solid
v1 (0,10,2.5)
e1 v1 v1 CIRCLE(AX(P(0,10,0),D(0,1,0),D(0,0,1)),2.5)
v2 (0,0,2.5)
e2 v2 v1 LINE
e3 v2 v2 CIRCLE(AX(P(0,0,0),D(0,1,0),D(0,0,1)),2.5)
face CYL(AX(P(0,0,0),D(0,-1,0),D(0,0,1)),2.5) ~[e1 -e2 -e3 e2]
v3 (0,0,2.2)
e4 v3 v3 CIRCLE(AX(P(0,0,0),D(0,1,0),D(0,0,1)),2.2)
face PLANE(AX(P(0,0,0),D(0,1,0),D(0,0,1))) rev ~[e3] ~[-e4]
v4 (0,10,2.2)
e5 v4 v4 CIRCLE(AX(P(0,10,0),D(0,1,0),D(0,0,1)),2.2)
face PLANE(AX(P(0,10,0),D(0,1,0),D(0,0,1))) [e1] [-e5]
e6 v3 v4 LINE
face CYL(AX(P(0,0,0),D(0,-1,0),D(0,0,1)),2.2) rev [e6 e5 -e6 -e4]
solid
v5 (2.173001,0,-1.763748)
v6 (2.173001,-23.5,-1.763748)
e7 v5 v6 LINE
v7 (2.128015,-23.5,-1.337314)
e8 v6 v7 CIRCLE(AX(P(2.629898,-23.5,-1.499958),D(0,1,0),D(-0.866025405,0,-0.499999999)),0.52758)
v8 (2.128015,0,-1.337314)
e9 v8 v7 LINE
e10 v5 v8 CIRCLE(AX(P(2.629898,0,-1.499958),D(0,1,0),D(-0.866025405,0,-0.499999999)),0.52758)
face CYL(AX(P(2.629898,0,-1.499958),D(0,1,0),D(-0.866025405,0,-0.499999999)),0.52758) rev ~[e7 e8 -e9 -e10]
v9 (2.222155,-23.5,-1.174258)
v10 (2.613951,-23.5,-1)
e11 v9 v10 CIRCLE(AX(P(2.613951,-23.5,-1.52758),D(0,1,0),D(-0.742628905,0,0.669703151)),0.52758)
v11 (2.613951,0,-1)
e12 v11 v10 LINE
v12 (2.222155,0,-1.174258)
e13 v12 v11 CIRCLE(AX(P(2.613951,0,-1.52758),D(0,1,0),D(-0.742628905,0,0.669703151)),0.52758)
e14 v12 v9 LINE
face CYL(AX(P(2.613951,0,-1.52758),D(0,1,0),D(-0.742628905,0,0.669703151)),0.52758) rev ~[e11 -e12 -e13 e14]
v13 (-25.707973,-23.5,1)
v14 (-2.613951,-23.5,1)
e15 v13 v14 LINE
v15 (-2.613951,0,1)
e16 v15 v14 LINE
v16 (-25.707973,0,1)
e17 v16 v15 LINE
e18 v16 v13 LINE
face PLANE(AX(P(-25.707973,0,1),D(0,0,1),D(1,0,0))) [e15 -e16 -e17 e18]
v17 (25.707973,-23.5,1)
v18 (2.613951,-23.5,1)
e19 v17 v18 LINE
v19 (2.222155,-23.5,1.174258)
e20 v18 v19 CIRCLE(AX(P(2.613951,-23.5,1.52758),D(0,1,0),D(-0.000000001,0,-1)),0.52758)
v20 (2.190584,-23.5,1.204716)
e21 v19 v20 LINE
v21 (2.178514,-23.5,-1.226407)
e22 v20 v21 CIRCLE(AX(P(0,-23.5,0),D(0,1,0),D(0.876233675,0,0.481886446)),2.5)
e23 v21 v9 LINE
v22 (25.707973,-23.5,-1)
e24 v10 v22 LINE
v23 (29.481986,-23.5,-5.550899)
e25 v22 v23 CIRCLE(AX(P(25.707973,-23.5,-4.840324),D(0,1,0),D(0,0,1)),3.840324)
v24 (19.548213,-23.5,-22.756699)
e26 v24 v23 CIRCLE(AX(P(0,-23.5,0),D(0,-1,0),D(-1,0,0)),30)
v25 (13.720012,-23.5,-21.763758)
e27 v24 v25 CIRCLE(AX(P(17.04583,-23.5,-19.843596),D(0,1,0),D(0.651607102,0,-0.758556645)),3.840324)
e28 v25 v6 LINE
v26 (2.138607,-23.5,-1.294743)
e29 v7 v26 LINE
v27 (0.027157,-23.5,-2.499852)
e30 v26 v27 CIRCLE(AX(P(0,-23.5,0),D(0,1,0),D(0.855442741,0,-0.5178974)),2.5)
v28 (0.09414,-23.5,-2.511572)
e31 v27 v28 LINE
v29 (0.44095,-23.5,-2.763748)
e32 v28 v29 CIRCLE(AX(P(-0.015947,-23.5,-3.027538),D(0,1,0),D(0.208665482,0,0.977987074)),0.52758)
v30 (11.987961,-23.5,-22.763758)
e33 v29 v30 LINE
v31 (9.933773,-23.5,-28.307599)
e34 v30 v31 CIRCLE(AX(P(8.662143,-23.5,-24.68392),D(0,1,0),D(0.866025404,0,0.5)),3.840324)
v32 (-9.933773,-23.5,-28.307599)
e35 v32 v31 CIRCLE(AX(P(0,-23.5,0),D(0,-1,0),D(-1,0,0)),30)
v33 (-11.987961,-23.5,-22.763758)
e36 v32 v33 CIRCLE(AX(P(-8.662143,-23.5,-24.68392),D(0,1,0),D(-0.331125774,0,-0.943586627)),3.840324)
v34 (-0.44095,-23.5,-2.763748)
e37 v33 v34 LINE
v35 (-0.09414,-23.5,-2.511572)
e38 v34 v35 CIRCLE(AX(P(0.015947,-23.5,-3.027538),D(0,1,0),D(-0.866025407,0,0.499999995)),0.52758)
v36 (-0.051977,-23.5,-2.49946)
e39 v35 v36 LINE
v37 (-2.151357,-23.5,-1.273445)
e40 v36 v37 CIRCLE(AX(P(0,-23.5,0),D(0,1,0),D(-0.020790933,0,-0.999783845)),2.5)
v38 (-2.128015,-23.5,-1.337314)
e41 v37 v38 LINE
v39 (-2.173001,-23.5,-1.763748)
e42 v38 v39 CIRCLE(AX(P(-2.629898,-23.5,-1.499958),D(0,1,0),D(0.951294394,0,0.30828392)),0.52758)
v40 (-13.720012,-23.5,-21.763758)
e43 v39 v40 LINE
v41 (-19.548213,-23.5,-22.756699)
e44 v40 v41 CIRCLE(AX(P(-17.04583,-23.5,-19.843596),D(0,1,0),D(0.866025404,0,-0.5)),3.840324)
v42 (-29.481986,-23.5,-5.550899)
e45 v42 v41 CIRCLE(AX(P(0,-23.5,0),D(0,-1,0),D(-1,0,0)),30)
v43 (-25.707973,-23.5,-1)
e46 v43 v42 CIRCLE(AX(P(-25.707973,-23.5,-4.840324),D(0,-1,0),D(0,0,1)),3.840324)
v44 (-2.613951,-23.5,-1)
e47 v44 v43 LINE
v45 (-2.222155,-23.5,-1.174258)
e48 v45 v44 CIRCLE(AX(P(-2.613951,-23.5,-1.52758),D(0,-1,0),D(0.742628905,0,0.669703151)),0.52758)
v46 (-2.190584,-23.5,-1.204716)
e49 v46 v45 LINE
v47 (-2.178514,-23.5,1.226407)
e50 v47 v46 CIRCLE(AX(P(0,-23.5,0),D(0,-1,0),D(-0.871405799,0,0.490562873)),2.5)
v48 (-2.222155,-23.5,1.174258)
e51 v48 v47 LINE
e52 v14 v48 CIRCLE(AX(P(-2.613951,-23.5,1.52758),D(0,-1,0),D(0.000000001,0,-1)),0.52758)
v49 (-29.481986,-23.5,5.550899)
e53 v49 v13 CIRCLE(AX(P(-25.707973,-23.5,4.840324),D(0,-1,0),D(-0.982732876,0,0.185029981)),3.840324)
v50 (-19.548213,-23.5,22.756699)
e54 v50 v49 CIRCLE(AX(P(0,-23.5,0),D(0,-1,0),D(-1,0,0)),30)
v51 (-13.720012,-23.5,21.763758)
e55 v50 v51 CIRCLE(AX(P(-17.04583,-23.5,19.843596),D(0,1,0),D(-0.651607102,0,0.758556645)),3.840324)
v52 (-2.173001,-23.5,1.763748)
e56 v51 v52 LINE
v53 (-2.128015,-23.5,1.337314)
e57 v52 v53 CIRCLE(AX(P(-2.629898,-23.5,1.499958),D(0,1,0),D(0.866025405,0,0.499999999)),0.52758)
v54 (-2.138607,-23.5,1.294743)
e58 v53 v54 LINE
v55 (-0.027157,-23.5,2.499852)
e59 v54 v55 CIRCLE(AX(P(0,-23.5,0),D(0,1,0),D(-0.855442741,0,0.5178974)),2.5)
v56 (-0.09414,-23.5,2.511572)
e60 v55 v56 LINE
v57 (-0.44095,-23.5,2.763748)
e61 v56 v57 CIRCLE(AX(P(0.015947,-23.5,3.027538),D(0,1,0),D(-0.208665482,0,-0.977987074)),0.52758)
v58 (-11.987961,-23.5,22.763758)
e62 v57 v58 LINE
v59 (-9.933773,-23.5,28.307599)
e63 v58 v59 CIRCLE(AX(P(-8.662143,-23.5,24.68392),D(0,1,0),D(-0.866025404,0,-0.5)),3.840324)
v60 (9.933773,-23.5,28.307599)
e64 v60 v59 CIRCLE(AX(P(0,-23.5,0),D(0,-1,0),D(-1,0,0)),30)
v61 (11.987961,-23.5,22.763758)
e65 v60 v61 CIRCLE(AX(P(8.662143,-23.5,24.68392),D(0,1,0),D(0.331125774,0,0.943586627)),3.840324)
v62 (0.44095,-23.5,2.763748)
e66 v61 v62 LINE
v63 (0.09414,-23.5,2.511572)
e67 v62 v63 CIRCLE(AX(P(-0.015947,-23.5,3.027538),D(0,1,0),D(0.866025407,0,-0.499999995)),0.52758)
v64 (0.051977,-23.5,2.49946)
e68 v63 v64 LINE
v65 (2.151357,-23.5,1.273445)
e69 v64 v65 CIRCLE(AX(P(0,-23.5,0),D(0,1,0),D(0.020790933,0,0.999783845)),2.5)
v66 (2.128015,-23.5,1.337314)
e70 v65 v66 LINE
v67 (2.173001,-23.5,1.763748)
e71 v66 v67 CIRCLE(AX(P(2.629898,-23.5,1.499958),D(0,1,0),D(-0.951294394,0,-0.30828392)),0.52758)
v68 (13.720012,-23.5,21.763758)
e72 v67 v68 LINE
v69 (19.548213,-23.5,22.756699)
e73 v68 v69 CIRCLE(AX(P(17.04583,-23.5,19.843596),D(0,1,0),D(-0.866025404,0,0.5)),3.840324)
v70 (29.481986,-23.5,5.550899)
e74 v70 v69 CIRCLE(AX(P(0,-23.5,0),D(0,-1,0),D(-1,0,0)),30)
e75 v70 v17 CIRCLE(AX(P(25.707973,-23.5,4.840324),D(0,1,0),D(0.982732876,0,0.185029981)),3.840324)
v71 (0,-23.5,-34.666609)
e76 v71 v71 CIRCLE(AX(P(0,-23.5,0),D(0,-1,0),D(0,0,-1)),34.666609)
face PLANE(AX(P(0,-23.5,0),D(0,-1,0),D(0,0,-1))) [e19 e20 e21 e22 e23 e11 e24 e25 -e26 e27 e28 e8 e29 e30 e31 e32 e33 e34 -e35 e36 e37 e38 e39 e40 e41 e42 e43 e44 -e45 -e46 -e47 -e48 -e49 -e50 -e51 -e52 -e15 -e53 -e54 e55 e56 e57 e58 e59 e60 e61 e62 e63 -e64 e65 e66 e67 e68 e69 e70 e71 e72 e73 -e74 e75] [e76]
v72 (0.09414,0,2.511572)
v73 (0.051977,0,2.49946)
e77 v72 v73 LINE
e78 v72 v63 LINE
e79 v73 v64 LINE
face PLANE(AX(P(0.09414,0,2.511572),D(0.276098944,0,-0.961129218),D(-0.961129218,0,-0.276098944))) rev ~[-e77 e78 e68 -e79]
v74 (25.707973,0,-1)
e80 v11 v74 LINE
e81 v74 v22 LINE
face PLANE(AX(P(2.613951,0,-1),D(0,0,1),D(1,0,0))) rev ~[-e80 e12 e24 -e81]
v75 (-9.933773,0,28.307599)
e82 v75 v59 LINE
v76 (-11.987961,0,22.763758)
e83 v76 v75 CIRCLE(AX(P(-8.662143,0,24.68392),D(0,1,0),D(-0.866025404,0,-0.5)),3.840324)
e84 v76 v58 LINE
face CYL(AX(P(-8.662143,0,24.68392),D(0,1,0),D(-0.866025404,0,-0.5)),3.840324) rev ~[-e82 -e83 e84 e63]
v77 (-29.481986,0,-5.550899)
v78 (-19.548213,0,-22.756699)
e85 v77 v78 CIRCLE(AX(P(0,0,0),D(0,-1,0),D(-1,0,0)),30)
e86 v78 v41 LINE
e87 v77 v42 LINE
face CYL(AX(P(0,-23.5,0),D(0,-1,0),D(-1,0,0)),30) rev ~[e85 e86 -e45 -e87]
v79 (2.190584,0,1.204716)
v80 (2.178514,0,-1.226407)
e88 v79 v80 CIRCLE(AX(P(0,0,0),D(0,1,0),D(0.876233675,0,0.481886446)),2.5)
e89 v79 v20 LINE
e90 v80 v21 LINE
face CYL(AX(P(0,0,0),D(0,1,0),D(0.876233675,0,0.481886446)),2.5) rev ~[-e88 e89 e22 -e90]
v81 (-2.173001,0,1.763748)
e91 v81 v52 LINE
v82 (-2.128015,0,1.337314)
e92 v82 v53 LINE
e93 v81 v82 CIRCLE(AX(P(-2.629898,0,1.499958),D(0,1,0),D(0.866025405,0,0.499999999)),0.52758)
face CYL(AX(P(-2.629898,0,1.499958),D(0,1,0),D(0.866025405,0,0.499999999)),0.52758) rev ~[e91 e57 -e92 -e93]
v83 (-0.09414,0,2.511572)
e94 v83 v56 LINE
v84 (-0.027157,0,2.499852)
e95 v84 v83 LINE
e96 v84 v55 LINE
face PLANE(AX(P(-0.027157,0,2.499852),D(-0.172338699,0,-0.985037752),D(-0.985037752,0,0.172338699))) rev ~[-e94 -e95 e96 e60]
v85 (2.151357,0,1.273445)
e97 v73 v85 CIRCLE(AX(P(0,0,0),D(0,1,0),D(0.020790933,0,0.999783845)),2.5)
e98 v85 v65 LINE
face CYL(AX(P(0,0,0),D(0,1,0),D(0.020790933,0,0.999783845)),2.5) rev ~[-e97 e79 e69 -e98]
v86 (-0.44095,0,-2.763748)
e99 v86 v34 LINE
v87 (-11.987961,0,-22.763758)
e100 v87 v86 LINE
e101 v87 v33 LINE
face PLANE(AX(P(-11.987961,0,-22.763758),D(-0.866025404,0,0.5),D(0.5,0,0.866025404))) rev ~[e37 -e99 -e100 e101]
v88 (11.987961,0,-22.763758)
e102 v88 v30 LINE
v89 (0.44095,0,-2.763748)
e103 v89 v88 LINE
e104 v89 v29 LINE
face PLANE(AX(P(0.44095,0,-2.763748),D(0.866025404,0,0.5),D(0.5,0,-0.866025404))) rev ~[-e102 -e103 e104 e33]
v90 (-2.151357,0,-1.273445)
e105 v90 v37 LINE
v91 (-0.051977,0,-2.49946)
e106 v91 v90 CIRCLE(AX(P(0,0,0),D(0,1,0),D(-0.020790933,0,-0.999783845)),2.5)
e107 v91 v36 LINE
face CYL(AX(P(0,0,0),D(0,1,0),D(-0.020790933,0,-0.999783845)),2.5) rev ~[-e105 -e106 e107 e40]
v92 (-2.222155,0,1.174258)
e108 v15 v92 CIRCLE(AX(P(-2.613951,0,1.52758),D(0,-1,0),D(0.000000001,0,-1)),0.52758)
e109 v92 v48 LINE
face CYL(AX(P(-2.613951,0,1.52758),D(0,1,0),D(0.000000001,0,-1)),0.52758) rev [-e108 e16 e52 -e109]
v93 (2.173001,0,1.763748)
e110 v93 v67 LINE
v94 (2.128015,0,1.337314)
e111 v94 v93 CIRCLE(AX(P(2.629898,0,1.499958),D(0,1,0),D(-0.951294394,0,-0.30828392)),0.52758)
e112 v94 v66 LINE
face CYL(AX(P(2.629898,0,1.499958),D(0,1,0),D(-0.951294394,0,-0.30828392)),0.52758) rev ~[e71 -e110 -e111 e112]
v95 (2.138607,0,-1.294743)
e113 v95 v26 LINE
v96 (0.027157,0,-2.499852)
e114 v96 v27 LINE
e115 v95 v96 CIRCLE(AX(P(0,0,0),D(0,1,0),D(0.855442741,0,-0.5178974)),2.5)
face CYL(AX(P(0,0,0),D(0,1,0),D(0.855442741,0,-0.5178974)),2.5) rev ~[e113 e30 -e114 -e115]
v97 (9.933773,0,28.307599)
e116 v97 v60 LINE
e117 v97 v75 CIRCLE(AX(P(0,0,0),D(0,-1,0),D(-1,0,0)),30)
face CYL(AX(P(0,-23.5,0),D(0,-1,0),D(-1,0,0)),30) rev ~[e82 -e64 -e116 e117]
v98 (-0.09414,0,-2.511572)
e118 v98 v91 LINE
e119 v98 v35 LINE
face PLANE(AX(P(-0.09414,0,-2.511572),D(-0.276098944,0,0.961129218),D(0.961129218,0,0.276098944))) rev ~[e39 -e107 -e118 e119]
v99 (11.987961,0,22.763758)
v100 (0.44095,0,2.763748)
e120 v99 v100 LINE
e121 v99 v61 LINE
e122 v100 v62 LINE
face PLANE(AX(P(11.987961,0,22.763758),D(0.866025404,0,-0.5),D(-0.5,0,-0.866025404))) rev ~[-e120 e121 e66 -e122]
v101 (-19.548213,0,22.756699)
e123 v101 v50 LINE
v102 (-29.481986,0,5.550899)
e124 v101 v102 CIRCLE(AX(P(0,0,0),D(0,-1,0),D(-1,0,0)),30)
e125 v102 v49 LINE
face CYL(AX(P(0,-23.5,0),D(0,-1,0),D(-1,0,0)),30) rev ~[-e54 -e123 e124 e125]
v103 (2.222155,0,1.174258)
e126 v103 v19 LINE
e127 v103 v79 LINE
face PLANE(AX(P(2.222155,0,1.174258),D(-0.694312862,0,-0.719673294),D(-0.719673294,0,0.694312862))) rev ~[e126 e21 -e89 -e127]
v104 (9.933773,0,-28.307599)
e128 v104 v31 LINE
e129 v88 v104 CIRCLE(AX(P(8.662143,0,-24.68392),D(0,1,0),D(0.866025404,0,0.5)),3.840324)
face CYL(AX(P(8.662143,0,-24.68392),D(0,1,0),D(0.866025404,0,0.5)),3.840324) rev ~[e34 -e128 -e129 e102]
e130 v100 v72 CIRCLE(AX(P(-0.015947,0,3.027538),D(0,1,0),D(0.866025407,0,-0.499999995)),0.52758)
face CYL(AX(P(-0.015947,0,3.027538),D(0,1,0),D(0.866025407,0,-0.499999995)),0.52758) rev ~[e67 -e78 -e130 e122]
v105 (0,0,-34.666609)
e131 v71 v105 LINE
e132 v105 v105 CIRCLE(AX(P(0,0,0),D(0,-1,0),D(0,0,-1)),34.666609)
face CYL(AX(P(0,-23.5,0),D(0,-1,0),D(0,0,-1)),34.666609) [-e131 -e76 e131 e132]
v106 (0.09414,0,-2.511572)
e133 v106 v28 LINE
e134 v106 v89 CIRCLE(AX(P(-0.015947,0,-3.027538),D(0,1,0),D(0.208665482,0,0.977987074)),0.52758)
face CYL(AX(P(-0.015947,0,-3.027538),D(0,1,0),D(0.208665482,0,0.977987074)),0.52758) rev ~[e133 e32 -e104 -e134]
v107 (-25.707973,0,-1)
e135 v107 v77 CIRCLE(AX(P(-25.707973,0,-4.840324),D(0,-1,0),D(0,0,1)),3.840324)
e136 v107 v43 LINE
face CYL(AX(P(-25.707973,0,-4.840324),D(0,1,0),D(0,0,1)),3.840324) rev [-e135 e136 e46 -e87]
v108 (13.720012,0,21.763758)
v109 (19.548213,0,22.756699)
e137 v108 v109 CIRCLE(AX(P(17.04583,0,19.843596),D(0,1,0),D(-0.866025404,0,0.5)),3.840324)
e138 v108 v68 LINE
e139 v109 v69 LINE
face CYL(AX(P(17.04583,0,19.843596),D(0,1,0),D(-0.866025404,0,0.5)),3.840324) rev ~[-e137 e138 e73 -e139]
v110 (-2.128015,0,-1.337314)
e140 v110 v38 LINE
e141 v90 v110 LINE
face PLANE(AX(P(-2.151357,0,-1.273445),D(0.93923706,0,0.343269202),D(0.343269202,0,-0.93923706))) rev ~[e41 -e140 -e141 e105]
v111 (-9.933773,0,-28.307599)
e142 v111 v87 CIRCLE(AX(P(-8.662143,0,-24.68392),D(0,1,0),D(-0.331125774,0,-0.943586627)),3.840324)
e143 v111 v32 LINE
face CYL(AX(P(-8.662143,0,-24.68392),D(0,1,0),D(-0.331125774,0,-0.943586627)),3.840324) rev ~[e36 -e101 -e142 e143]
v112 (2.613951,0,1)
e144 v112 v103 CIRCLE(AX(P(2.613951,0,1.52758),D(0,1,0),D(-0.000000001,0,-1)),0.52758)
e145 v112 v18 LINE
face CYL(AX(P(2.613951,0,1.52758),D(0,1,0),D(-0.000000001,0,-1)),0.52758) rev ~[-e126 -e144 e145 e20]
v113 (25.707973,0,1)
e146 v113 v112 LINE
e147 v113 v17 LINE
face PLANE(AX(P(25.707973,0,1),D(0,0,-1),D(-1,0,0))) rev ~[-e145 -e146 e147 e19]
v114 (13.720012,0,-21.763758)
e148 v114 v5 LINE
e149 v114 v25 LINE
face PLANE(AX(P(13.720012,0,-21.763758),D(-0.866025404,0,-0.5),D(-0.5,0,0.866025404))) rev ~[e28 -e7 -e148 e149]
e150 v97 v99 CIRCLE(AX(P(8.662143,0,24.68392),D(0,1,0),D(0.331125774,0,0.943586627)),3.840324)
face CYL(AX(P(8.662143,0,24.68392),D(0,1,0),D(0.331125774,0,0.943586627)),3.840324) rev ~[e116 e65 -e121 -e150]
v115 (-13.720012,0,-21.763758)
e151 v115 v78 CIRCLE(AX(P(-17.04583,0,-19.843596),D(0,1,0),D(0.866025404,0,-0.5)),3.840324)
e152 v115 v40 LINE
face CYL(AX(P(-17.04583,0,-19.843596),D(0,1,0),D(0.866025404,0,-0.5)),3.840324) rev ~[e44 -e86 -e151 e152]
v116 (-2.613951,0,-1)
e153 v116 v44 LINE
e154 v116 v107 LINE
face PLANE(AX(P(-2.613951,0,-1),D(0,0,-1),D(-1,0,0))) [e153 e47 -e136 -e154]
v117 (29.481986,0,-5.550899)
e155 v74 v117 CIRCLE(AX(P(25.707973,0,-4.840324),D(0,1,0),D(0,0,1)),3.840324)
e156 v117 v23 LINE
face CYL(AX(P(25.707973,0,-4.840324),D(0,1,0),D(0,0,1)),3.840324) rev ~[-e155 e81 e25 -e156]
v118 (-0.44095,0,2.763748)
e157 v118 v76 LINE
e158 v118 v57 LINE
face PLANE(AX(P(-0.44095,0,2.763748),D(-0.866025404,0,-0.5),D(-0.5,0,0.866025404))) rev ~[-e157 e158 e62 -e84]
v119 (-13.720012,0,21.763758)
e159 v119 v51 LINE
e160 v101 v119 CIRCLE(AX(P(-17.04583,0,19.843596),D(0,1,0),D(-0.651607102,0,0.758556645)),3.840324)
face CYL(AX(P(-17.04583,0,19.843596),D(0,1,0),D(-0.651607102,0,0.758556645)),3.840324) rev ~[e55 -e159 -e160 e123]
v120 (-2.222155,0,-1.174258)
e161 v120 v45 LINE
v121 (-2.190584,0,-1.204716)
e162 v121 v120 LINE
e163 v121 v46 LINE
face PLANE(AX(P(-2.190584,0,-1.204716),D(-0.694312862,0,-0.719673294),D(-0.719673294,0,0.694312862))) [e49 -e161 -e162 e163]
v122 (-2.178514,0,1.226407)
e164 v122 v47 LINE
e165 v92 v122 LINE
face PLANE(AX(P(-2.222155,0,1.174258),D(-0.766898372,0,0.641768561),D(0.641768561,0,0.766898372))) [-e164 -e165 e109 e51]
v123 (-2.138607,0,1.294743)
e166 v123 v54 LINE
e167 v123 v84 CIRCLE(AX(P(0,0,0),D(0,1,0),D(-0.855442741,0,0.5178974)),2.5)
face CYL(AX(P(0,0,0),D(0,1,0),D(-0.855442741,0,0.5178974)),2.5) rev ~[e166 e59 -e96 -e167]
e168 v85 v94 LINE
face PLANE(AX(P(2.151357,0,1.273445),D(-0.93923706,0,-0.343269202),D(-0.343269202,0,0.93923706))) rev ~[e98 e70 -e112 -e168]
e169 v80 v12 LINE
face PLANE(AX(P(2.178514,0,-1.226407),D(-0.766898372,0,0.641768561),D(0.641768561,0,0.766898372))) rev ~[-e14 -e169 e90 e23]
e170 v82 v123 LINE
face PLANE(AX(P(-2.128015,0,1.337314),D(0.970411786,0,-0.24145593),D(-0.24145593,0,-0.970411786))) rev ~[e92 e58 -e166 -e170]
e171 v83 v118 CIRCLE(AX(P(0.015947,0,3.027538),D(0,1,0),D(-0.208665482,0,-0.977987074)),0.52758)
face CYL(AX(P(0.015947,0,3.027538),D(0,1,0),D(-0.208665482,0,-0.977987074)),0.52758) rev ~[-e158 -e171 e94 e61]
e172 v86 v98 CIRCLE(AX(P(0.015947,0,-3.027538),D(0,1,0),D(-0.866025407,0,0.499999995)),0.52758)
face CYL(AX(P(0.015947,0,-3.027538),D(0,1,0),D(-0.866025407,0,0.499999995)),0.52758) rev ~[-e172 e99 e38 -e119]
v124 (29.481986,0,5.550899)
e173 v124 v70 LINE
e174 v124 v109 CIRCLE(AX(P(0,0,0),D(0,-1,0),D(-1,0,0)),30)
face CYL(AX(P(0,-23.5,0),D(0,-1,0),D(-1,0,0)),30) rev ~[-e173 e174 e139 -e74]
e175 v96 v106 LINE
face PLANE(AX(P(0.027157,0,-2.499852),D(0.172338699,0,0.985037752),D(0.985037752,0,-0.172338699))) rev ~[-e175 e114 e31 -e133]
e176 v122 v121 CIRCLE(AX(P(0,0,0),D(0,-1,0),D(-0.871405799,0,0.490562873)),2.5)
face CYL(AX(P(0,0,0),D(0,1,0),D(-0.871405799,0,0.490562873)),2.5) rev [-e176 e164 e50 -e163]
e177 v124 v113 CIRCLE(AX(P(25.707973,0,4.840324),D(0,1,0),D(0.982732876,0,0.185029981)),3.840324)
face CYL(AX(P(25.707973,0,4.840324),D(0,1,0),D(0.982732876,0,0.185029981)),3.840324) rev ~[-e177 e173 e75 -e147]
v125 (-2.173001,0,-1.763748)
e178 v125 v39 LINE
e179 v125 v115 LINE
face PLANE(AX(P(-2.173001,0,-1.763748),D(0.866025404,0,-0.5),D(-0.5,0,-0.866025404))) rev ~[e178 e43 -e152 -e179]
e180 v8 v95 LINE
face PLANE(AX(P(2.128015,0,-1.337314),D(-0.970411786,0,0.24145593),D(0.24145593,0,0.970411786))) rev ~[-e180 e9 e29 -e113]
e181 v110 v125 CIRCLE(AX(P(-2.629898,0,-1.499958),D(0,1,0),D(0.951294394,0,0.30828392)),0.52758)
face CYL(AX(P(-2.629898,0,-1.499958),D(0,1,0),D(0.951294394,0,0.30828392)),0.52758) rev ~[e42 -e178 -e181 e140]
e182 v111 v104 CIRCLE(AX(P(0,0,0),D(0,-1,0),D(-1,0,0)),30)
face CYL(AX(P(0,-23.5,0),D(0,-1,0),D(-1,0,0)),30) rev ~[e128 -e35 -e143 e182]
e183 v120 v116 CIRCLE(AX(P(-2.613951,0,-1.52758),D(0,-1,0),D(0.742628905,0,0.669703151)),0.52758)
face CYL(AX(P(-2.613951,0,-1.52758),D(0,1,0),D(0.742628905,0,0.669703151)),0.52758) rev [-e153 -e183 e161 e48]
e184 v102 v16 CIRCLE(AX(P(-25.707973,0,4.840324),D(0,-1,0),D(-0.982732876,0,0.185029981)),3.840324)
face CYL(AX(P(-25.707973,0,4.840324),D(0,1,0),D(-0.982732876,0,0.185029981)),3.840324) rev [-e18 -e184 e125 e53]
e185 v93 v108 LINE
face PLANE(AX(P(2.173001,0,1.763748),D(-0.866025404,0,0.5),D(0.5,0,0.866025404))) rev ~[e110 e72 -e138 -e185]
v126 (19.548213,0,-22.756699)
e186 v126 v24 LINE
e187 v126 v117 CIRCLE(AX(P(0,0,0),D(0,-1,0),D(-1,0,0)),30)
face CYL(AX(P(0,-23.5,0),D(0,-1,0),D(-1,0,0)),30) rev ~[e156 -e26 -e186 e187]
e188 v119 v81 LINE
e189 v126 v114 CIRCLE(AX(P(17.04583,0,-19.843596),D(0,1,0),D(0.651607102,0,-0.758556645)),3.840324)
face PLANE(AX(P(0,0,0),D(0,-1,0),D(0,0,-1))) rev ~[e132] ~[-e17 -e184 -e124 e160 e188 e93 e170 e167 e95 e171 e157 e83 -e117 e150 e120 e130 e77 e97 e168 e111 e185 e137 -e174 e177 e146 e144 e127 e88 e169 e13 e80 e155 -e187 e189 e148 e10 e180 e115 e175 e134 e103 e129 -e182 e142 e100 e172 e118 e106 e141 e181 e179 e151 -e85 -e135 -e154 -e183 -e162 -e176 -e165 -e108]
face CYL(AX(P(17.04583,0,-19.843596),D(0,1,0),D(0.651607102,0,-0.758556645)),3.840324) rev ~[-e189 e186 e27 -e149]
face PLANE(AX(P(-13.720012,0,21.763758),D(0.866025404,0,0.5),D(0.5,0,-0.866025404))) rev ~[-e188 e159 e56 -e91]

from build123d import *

# Parameters (mm, degrees)
SKETCH1_R             = 2.5
SKETCH1_R_2           = 2.2
BOSS_EXTRUDE1_DEPTH   = 10
BOSS_EXTRUDE3_DEPTH   = 23.5
BOSS_EXTRUDE3_2_DEPTH = 23.5
BOSS_EXTRUDE3_3_DEPTH = 23.5
BOSS_EXTRUDE3_4_DEPTH = 23.5
BOSS_EXTRUDE3_5_DEPTH = 23.5
BOSS_EXTRUDE3_6_DEPTH = 23.5
SKETCH5_R             = 34.666608733
SKETCH5_R_2           = 30
BOSS_EXTRUDE4_DEPTH   = 23.5
SKETCH6_R             = 1.5
BOSS_EXTRUDE5_DEPTH   = 10
SKETCH8_R             = 1.5
CUT_EXTRUDE2_DEPTH    = 10


with BuildPart() as part:
    # Sketch1 → Boss-Extrude1 (new body)
    with BuildSketch(Plane(origin=(0, 0, 0), x_dir=(1, 0, 0), z_dir=(0, 1, 0))):
        with Locations(Location((0, 0, 0), (0, 0, 270))):
            Circle(SKETCH1_R)
        with Locations(Location((0, 0, 0), (0, 0, 270))):
            Circle(SKETCH1_R_2, mode=Mode.SUBTRACT)
    extrude(amount=BOSS_EXTRUDE1_DEPTH)


with BuildPart() as body_2:
    # Sketch2 → Boss-Extrude3 (new body)
    with BuildSketch(Plane(origin=(0, 0, 0), x_dir=(-1, 0, 0), z_dir=(0, -1, 0))):
        with BuildLine():
            Line((2.61395079, 1), (25.707973339, 1))
            ThreePointArc((25.707973339, 1), (28.664062792, 2.388870469), (29.481986287, 5.550899437))
            ThreePointArc((29.481986287, 5.550899437), (30, 0), (29.481986287, -5.550899437))
            ThreePointArc((29.481986287, -5.550899437), (28.664062792, -2.388870469), (25.707973339, -1))
            Line((25.707973339, -1), (2.61395079, -1))
            ThreePointArc((2.61395079, -1), (2.399550586, -1.045528996), (2.222154945, -1.174257873))
            Line((2.222154945, -1.174257873), (2.178514499, -1.226407182))
            ThreePointArc((2.178514499, -1.226407182), (2.499969191, -0.012411485), (2.190584188, 1.204716114))
            Line((2.190584188, 1.204716114), (2.222154945, 1.174257873))
            ThreePointArc((2.222154945, 1.174257873), (2.399550586, 1.045528996), (2.61395079, 1))
        make_face()
    extrude(amount=BOSS_EXTRUDE3_DEPTH)



with BuildPart() as body_3:
    # Sketch2 → Boss-Extrude3 2 (new body)
    with BuildSketch(Plane(origin=(0, 0, 0), x_dir=(-1, 0, 0), z_dir=(0, -1, 0))):
        with BuildLine():
            Line((0.440949991, -2.763747789), (11.987961266, -22.763757991))
            ThreePointArc((11.987961266, -22.763757991), (12.263208883, -26.018241788), (9.933773217, -28.307598797))
            ThreePointArc((9.933773217, -28.307598797), (15, -25.980762114), (19.54821307, -22.75669936))
            ThreePointArc((19.54821307, -22.75669936), (16.400853909, -23.629371319), (13.720012073, -21.763757991))
            Line((13.720012073, -21.763757991), (2.173000799, -1.763747789))
            ThreePointArc((2.173000799, -1.763747789), (2.105229964, -1.555307267), (2.128014621, -1.337313697))
            Line((2.128014621, -1.337313697), (2.138606853, -1.294743499))
            ThreePointArc((2.138606853, -1.294743499), (1.239235934, -2.17124257), (0.027157474, -2.49985249))
            Line((0.027157474, -2.49985249), (0.094140324, -2.511571571))
            ThreePointArc((0.094140324, -2.511571571), (0.294320622, -2.600836263), (0.440949991, -2.763747789))
        make_face()
    extrude(amount=BOSS_EXTRUDE3_2_DEPTH)


with BuildPart() as body_4:
    # Sketch2 → Boss-Extrude3 3 (new body)
    with BuildSketch(Plane(origin=(0, 0, 0), x_dir=(-1, 0, 0), z_dir=(0, -1, 0))):
        with BuildLine():
            Line((-2.173000799, -1.763747789), (-13.720012073, -21.763757991))
            ThreePointArc((-13.720012073, -21.763757991), (-16.400853909, -23.629371319), (-19.54821307, -22.75669936))
            ThreePointArc((-19.54821307, -22.75669936), (-15, -25.980762114), (-9.933773217, -28.307598797))
            ThreePointArc((-9.933773217, -28.307598797), (-12.263208883, -26.018241788), (-11.987961266, -22.763757991))
            Line((-11.987961266, -22.763757991), (-0.440949991, -2.763747789))
            ThreePointArc((-0.440949991, -2.763747789), (-0.294320622, -2.600836263), (-0.094140324, -2.511571571))
            Line((-0.094140324, -2.511571571), (-0.051977335, -2.499459613))
            ThreePointArc((-0.051977335, -2.499459613), (-1.260733257, -2.158831086), (-2.151357025, -1.273445308))
            Line((-2.151357025, -1.273445308), (-2.128014621, -1.337313697))
            ThreePointArc((-2.128014621, -1.337313697), (-2.105229964, -1.555307267), (-2.173000799, -1.763747789))
        make_face()
    extrude(amount=BOSS_EXTRUDE3_3_DEPTH)


with BuildPart() as body_5:
    # Sketch2 → Boss-Extrude3 4 (new body)
    with BuildSketch(Plane(origin=(0, 0, 0), x_dir=(-1, 0, 0), z_dir=(0, -1, 0))):
        with BuildLine():
            Line((-2.61395079, 1), (-25.707973339, 1))
            ThreePointArc((-25.707973339, 1), (-28.664062792, 2.388870469), (-29.481986287, 5.550899437))
            ThreePointArc((-29.481986287, 5.550899437), (-30, 0), (-29.481986287, -5.550899437))
            ThreePointArc((-29.481986287, -5.550899437), (-28.664062792, -2.388870469), (-25.707973339, -1))
            Line((-25.707973339, -1), (-2.61395079, -1))
            ThreePointArc((-2.61395079, -1), (-2.399550586, -1.045528996), (-2.222154945, -1.174257873))
            Line((-2.222154945, -1.174257873), (-2.190584188, -1.204716114))
            ThreePointArc((-2.190584188, -1.204716114), (-2.499969191, 0.012411485), (-2.178514499, 1.226407182))
            Line((-2.178514499, 1.226407182), (-2.222154945, 1.174257873))
            ThreePointArc((-2.222154945, 1.174257873), (-2.399550586, 1.045528996), (-2.61395079, 1))
        make_face()
    extrude(amount=BOSS_EXTRUDE3_4_DEPTH)


with BuildPart() as body_6:
    # Sketch2 → Boss-Extrude3 5 (new body)
    with BuildSketch(Plane(origin=(0, 0, 0), x_dir=(-1, 0, 0), z_dir=(0, -1, 0))):
        with BuildLine():
            Line((-0.440949991, 2.763747789), (-11.987961266, 22.763757991))
            ThreePointArc((-11.987961266, 22.763757991), (-12.263208883, 26.018241788), (-9.933773217, 28.307598797))
            ThreePointArc((-9.933773217, 28.307598797), (-15, 25.980762114), (-19.54821307, 22.75669936))
            ThreePointArc((-19.54821307, 22.75669936), (-16.400853909, 23.629371319), (-13.720012073, 21.763757991))
            Line((-13.720012073, 21.763757991), (-2.173000799, 1.763747789))
            ThreePointArc((-2.173000799, 1.763747789), (-2.105229964, 1.555307267), (-2.128014621, 1.337313697))
            Line((-2.128014621, 1.337313697), (-2.138606853, 1.294743499))
            ThreePointArc((-2.138606853, 1.294743499), (-1.239235934, 2.17124257), (-0.027157474, 2.49985249))
            Line((-0.027157474, 2.49985249), (-0.094140324, 2.511571571))
            ThreePointArc((-0.094140324, 2.511571571), (-0.294320622, 2.600836263), (-0.440949991, 2.763747789))
        make_face()
    extrude(amount=BOSS_EXTRUDE3_5_DEPTH)


with BuildPart() as body_7:
    # Sketch2 → Boss-Extrude3 6 (new body)
    with BuildSketch(Plane(origin=(0, 0, 0), x_dir=(-1, 0, 0), z_dir=(0, -1, 0))):
        with BuildLine():
            Line((2.173000799, 1.763747789), (13.720012073, 21.763757991))
            ThreePointArc((13.720012073, 21.763757991), (16.400853909, 23.629371319), (19.54821307, 22.75669936))
            ThreePointArc((19.54821307, 22.75669936), (15, 25.980762114), (9.933773217, 28.307598797))
            ThreePointArc((9.933773217, 28.307598797), (12.263208883, 26.018241788), (11.987961266, 22.763757991))
            Line((11.987961266, 22.763757991), (0.440949991, 2.763747789))
            ThreePointArc((0.440949991, 2.763747789), (0.294320622, 2.600836263), (0.094140324, 2.511571571))
            Line((0.094140324, 2.511571571), (0.051977335, 2.499459613))
            ThreePointArc((0.051977335, 2.499459613), (1.260733257, 2.158831086), (2.151357025, 1.273445308))
            Line((2.151357025, 1.273445308), (2.128014621, 1.337313697))
            ThreePointArc((2.128014621, 1.337313697), (2.105229964, 1.555307267), (2.173000799, 1.763747789))
        make_face()
    extrude(amount=BOSS_EXTRUDE3_6_DEPTH)


with BuildPart() as body_2_1:
    add(body_2.part)

    add(body_3.part)  # Boss-Extrude4 merges body 3

    add(body_4.part)  # Boss-Extrude4 merges body 4

    add(body_5.part)  # Boss-Extrude4 merges body 5

    add(body_6.part)  # Boss-Extrude4 merges body 6

    add(body_7.part)  # Boss-Extrude4 merges body 7
    # Sketch5 → Boss-Extrude4 (add)
    with BuildSketch(Plane(origin=(0, -23.5, 0), x_dir=(-1, 0, 0), z_dir=(0, -1, 0))):
        with Locations(Location((0, 0, 0), (0, 0, 90))):
            Circle(SKETCH5_R)
        Circle(SKETCH5_R_2, mode=Mode.SUBTRACT)
    extrude(amount=-BOSS_EXTRUDE4_DEPTH)


with BuildPart() as body_3_2:
    # Sketch6 → Boss-Extrude5 (new body)
    with BuildSketch(Plane(origin=(0, 10, 0), x_dir=(1, 0, 0), z_dir=(0, 1, 0))):
        with Locations(Location((0, 0, 0), (0, 0, 270))):
            Circle(SKETCH6_R)
    extrude(amount=-BOSS_EXTRUDE5_DEPTH)

    # Sketch8 → Cut-Extrude2 (cut)
    with BuildSketch(Plane(origin=(0, 10, 0), x_dir=(1, 0, 0), z_dir=(0, 1, 0))):
        Circle(SKETCH8_R)
    extrude(amount=-CUT_EXTRUDE2_DEPTH, mode=Mode.SUBTRACT)


solid = Compound([part.part, body_2_1.part])
